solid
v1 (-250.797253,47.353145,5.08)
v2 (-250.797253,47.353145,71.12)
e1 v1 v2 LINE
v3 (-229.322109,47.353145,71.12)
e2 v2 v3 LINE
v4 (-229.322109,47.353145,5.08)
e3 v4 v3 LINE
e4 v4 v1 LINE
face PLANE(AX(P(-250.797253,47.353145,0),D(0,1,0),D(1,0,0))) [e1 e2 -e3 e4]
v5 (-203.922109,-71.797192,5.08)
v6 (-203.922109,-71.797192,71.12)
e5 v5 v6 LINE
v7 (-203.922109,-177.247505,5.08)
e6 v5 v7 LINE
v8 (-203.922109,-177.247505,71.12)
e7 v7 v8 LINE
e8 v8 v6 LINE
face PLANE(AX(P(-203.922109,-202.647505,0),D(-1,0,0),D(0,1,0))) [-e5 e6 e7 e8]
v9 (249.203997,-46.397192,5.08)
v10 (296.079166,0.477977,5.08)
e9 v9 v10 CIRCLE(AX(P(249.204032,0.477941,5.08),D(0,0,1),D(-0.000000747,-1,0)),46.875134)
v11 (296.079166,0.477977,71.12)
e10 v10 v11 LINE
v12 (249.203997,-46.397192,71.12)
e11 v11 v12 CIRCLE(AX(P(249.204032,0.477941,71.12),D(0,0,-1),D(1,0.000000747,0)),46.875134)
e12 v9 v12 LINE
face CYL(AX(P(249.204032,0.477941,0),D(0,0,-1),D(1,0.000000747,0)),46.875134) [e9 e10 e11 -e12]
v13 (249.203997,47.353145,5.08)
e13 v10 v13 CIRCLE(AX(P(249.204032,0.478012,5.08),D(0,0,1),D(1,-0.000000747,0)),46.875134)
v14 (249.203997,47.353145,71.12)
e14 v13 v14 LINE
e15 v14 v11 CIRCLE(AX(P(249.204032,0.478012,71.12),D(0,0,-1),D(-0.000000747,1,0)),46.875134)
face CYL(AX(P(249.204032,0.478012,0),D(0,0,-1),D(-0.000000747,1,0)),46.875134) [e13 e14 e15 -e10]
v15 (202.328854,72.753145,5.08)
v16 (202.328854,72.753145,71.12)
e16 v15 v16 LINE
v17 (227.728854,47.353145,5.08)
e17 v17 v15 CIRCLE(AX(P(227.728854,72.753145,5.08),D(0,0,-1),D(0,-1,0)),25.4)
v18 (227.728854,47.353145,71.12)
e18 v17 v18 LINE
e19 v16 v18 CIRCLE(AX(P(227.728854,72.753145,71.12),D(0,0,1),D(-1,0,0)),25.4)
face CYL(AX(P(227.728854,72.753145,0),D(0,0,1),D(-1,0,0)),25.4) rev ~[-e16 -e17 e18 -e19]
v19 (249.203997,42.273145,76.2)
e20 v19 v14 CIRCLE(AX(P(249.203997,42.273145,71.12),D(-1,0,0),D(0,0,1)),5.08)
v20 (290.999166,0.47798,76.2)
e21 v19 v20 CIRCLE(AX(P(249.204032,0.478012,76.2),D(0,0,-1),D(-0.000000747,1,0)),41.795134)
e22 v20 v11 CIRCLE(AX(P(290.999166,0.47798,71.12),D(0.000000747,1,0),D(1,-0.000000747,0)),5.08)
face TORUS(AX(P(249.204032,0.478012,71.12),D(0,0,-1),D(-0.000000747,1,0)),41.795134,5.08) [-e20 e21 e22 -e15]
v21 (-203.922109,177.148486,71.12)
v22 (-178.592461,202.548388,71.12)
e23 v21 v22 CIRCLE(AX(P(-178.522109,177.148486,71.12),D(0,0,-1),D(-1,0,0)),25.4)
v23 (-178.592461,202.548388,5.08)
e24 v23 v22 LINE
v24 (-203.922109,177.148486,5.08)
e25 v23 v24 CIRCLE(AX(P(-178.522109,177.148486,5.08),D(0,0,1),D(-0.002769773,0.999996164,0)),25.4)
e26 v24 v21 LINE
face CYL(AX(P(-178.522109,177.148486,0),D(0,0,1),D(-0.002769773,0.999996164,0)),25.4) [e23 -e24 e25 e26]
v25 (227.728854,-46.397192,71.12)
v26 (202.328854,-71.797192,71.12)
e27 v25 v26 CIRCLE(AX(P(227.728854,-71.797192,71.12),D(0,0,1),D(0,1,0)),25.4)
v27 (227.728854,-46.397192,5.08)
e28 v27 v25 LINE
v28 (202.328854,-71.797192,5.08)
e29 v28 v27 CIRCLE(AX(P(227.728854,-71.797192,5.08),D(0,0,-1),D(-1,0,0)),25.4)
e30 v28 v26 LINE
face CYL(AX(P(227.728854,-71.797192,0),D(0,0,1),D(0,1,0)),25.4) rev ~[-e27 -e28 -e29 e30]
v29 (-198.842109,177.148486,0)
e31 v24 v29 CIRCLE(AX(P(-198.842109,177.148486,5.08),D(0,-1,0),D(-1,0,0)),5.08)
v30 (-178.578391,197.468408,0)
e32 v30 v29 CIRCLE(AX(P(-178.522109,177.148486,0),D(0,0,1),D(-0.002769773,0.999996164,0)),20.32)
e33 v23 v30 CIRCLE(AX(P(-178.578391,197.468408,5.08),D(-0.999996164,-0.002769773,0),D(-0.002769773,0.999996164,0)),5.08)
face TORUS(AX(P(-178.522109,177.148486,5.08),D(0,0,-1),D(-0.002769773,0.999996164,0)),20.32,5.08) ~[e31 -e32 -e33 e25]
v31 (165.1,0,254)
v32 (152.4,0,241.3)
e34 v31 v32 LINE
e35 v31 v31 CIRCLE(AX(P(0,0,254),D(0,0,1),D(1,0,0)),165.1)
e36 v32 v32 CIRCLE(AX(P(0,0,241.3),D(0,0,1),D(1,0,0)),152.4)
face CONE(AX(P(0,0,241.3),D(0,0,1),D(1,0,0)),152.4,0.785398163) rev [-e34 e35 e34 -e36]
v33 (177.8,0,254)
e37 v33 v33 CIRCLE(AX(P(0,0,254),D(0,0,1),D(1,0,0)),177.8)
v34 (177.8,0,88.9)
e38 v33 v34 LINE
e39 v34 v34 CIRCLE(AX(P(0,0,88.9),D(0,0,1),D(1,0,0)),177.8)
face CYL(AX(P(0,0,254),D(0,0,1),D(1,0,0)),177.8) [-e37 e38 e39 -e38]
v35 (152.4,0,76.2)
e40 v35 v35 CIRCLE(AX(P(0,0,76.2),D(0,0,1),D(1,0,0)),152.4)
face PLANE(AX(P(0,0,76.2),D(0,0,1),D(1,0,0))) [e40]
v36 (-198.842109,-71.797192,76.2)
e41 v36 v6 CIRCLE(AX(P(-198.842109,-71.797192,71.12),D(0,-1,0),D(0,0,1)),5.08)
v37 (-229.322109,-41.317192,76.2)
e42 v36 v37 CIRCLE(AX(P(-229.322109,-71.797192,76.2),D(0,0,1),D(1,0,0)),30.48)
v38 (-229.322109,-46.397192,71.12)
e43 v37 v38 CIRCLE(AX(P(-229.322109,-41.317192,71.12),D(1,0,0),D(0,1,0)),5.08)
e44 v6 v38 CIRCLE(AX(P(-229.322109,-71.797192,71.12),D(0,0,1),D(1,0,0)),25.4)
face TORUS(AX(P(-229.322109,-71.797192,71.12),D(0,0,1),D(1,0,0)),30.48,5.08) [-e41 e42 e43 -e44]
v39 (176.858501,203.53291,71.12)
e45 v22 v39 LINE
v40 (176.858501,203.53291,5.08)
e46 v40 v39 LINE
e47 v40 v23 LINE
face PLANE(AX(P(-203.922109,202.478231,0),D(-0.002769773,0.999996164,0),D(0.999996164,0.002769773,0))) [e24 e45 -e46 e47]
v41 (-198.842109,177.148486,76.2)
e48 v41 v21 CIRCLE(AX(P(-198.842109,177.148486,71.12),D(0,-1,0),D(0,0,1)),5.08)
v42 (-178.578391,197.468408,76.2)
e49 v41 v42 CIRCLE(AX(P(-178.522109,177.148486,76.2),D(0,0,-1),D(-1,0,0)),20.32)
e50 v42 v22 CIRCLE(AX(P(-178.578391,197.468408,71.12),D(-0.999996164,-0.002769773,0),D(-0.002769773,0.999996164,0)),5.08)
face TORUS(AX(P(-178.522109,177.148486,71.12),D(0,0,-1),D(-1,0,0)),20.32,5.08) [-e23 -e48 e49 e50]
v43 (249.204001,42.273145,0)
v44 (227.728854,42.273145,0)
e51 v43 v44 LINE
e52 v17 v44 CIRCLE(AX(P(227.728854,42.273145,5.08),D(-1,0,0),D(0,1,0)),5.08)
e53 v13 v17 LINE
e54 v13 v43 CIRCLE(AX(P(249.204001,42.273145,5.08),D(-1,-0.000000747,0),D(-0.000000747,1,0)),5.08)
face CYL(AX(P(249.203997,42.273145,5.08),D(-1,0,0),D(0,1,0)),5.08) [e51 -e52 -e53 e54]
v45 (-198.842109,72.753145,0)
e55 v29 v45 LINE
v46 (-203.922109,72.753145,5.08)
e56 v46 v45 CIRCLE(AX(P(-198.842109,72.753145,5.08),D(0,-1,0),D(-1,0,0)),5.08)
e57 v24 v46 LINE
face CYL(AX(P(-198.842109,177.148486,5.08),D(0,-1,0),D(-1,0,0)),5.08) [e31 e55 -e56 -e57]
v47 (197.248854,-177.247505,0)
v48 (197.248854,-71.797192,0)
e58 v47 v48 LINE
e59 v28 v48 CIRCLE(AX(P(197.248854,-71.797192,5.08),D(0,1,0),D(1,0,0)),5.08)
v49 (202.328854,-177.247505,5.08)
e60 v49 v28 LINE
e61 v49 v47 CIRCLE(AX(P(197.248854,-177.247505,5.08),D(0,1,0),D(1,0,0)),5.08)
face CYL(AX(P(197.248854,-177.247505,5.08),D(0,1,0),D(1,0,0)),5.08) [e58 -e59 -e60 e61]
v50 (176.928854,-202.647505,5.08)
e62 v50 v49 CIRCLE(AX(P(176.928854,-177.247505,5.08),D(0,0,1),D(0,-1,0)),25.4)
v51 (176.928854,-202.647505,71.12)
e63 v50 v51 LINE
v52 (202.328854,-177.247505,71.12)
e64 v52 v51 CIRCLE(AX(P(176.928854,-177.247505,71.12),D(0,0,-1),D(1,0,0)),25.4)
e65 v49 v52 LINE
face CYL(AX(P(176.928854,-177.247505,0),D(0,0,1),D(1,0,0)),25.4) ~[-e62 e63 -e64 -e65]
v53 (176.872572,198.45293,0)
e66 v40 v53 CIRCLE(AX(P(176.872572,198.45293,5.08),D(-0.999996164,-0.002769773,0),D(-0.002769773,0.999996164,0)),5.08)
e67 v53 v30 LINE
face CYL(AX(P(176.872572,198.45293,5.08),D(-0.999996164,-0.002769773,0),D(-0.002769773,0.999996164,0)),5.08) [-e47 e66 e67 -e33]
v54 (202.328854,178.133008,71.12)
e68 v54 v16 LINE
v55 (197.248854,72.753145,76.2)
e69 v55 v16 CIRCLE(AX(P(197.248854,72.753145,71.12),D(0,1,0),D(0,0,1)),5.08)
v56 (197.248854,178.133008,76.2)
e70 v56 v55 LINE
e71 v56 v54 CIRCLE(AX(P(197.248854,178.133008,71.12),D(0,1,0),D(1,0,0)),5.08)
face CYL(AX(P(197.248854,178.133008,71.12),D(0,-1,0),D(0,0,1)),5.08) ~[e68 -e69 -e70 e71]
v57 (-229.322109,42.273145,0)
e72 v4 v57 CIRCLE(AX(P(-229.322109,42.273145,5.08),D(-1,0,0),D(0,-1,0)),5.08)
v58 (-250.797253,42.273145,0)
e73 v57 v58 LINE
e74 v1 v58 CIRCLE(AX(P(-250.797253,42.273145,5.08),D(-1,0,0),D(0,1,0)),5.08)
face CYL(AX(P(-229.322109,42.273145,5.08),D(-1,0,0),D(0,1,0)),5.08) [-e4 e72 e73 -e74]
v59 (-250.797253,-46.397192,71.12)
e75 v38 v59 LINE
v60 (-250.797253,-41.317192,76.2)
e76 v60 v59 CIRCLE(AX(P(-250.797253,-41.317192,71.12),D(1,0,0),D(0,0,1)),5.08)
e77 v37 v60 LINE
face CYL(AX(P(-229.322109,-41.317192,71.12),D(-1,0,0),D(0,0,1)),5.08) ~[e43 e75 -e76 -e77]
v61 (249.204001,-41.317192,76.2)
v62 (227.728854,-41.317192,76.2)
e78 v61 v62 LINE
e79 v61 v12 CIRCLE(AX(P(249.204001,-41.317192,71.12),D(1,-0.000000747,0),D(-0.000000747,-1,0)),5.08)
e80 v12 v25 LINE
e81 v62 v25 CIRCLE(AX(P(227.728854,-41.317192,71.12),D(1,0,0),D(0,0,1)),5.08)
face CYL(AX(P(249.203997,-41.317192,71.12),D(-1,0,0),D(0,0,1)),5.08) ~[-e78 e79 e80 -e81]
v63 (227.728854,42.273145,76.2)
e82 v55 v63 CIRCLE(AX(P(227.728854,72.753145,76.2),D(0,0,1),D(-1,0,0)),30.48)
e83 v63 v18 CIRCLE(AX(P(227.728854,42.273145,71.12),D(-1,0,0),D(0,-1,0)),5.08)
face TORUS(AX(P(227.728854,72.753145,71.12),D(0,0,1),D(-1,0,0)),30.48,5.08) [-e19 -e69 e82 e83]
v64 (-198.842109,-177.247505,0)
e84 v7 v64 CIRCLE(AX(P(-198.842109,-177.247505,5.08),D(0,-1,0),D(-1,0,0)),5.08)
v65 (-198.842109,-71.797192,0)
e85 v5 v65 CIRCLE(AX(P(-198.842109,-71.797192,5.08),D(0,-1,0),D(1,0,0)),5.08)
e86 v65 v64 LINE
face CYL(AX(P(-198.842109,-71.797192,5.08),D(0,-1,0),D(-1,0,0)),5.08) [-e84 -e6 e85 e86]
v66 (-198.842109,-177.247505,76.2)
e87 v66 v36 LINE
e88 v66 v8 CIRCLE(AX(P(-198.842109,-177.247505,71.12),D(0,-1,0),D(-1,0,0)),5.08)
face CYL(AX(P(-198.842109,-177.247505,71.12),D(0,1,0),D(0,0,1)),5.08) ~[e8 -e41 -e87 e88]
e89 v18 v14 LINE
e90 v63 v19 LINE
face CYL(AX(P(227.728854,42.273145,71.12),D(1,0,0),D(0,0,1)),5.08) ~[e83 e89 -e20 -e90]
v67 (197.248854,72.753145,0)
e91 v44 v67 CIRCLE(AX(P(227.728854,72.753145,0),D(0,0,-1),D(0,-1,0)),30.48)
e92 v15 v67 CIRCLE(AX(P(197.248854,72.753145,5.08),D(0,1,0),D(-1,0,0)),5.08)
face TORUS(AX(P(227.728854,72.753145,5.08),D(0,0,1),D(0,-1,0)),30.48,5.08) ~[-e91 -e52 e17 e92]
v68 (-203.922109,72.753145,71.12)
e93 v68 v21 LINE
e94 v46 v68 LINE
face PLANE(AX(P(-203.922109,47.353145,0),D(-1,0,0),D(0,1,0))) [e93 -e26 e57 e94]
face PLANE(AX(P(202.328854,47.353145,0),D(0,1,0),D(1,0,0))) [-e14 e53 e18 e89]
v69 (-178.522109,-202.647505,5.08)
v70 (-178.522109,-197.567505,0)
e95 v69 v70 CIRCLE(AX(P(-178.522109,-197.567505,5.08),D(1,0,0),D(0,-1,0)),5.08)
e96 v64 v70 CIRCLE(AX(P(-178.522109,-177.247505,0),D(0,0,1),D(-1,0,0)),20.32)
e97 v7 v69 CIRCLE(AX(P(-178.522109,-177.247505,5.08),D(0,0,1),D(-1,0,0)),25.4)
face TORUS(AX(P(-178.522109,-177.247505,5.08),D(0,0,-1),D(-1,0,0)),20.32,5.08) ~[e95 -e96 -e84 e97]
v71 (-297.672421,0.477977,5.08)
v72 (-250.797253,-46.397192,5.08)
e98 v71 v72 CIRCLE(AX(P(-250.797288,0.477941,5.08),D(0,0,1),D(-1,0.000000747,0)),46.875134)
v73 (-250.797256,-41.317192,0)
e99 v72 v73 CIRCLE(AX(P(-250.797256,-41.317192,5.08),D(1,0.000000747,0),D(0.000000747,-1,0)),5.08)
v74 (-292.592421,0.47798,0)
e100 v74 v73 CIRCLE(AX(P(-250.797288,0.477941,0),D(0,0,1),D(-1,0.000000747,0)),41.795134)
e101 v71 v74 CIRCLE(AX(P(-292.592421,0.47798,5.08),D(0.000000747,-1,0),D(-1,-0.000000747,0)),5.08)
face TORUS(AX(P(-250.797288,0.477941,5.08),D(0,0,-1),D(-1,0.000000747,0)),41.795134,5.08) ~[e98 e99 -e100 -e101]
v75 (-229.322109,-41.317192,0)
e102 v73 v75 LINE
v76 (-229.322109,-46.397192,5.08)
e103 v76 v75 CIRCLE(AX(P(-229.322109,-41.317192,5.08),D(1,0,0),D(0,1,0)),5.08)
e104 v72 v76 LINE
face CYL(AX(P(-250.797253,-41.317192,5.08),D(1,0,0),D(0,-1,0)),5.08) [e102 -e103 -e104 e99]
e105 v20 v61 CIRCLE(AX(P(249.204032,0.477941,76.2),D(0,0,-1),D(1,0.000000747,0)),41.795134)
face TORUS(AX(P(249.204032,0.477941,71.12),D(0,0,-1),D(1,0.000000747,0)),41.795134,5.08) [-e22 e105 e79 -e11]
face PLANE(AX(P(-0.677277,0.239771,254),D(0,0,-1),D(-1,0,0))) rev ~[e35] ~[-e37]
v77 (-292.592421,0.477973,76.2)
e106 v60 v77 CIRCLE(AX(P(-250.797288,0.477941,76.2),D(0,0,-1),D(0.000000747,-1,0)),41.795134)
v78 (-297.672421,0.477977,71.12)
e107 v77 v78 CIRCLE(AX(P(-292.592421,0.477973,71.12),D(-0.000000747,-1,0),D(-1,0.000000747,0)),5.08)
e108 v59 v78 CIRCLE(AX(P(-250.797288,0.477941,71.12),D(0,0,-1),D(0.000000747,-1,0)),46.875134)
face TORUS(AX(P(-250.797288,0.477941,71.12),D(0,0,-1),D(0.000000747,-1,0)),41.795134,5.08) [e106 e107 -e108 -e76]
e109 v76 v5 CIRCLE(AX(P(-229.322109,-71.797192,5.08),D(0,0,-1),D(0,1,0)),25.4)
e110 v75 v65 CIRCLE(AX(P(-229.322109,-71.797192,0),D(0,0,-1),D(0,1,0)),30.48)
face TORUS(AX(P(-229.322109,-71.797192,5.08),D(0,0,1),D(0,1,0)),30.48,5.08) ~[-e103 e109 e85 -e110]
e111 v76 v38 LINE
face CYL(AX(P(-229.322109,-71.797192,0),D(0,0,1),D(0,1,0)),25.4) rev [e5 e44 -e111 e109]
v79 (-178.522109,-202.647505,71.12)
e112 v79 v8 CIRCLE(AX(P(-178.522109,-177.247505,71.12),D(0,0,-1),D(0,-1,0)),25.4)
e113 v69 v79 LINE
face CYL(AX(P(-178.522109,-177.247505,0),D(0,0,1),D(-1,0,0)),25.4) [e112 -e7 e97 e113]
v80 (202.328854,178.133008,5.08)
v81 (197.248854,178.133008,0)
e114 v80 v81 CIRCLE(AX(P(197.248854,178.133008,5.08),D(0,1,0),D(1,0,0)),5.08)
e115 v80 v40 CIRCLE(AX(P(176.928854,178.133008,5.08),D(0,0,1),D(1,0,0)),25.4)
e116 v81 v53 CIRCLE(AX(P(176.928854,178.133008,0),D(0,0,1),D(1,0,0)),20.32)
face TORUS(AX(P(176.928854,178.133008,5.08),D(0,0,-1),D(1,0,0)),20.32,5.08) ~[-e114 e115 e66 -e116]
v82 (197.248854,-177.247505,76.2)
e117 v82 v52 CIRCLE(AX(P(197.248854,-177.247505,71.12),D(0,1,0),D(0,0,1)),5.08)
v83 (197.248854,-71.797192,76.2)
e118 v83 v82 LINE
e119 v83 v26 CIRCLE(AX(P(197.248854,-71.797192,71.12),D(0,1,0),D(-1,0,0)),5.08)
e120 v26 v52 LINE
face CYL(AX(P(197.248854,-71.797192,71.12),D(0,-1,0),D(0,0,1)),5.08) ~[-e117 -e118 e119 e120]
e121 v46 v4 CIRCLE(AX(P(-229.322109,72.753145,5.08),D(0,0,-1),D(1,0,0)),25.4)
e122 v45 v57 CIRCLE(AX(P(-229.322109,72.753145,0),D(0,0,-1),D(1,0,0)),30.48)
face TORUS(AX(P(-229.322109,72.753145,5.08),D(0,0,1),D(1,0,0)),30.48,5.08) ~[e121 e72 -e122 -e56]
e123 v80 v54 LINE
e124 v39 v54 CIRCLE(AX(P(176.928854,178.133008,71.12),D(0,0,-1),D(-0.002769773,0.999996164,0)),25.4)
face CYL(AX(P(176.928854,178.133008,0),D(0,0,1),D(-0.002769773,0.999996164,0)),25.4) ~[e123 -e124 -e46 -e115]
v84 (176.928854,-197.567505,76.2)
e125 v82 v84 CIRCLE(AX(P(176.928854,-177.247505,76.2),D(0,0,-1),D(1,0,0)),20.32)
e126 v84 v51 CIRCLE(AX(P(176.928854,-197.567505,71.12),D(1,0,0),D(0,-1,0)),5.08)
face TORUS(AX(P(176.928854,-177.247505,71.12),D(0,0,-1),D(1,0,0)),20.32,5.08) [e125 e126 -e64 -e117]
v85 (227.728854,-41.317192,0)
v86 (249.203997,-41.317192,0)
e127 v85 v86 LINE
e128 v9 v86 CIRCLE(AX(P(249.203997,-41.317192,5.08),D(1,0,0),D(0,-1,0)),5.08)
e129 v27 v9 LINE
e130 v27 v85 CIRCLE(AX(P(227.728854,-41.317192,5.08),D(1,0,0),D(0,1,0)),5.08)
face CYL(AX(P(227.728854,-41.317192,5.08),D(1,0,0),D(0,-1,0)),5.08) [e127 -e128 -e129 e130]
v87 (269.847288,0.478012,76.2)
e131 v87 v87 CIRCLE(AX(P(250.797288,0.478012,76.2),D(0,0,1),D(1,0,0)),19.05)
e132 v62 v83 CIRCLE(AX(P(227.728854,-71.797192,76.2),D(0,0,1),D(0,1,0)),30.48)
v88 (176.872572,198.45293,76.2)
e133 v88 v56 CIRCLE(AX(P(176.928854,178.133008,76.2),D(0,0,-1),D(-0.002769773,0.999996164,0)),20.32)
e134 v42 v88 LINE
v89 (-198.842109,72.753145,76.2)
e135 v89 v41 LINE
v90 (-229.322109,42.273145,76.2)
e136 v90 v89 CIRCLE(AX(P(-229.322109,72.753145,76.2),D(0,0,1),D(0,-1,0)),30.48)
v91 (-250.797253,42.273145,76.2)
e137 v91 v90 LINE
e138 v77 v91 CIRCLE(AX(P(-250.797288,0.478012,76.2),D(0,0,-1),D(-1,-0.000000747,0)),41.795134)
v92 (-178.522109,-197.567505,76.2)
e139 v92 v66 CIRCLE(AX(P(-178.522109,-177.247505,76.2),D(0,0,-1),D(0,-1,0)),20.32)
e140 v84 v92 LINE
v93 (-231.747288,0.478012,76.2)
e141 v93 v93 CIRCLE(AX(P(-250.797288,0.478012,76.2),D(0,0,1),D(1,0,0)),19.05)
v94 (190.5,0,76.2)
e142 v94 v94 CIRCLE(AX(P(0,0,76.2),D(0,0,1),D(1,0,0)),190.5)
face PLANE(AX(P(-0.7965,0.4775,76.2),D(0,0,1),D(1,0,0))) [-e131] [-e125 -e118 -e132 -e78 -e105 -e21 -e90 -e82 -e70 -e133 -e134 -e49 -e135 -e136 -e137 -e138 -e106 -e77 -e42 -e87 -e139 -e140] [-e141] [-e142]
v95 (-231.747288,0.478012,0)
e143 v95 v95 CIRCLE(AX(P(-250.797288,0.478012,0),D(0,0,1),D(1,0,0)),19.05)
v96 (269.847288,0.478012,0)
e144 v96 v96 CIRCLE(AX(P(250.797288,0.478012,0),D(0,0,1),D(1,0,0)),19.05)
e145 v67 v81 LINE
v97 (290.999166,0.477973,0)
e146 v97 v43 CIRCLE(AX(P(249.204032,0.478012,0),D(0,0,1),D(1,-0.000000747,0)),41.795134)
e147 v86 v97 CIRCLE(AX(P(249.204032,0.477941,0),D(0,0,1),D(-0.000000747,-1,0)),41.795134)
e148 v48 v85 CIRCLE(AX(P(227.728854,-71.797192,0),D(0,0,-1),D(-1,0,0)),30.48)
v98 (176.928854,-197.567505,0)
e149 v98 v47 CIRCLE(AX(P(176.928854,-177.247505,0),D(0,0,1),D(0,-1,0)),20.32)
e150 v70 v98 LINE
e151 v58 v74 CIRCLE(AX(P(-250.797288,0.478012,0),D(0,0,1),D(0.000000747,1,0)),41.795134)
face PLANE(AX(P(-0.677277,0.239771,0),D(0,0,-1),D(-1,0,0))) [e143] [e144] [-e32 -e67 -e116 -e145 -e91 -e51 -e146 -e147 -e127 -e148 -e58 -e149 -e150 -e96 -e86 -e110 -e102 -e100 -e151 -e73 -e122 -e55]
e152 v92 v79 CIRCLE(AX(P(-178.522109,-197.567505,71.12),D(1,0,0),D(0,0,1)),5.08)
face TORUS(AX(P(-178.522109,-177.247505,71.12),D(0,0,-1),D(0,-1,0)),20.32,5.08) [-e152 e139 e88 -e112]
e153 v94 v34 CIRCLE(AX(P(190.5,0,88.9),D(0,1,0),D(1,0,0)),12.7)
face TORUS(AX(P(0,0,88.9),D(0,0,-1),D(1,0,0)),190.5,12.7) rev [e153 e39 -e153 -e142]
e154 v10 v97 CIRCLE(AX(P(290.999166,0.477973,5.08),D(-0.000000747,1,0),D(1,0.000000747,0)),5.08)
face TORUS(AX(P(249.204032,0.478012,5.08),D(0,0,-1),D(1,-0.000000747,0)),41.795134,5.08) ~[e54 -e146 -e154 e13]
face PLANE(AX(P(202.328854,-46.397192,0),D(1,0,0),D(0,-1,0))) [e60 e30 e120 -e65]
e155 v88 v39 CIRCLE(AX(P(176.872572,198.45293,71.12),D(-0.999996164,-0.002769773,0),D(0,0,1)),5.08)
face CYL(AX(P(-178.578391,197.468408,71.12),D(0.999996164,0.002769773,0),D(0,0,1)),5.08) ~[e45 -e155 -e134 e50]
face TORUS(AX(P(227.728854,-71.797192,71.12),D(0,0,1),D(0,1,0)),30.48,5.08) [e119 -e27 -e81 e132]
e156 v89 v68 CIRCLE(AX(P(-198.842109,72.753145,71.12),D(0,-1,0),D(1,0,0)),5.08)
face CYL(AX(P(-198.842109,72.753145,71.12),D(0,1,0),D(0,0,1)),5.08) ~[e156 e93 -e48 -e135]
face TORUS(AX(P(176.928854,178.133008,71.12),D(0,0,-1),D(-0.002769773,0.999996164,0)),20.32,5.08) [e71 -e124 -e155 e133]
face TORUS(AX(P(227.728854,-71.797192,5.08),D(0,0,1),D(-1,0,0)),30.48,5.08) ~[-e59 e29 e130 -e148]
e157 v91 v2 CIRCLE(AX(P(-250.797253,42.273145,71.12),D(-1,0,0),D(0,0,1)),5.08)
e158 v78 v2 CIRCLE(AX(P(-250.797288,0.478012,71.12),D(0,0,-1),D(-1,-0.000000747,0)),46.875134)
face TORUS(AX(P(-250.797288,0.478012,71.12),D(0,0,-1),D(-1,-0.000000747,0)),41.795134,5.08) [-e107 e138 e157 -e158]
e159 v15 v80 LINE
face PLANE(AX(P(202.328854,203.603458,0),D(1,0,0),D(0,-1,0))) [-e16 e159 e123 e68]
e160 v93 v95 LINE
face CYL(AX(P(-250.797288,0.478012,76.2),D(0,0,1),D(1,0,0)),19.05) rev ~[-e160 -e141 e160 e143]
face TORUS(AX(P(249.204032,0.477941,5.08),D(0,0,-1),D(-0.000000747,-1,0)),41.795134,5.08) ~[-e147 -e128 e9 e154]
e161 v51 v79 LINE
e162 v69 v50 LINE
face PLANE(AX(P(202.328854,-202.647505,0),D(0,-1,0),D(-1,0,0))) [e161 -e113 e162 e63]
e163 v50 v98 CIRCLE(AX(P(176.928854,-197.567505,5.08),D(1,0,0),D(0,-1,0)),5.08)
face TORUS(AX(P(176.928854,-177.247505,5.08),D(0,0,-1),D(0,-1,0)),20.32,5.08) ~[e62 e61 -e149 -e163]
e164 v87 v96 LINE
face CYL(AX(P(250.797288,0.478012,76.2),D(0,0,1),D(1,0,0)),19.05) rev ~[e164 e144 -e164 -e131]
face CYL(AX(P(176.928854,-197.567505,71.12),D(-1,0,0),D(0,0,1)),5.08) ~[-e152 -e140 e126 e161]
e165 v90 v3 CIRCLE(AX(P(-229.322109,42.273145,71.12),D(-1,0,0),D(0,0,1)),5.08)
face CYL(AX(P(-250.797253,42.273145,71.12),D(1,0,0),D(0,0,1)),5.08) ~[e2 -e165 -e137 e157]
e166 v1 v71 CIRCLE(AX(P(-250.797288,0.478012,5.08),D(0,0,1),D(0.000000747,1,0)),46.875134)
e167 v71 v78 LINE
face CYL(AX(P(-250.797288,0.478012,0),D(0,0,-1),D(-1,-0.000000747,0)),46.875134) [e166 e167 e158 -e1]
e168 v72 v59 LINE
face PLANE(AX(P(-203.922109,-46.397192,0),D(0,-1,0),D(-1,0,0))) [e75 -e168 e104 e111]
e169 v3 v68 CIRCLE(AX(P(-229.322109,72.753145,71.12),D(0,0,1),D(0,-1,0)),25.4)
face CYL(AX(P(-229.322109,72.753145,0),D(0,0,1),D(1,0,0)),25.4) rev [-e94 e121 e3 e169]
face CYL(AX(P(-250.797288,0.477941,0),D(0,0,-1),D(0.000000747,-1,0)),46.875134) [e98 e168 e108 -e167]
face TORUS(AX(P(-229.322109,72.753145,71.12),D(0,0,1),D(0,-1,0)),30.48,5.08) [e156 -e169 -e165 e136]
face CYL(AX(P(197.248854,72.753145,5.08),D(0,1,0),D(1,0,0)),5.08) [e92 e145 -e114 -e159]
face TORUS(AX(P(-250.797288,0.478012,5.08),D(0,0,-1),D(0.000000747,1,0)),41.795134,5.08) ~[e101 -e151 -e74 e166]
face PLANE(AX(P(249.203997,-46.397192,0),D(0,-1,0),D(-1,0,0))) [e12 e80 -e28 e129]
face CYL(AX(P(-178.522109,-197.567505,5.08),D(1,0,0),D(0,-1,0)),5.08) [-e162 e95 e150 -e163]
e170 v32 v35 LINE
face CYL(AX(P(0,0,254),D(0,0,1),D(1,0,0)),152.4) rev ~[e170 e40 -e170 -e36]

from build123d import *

# Parameters (mm, degrees)
BOSS_EXTRUDE1_DEPTH = 254
SKETCH2_OUTSIDE_W   = 748.341
SKETCH2_OUTSIDE_H   = 560.841
SKETCH2_OUTSIDE_R   = 177.8
CUT_EXTRUDE1_DEPTH  = 177.8
SKETCH3_R           = 152.4
CUT_EXTRUDE2_DEPTH  = 177.8
SKETCH4_R           = 19.05
CUT_EXTRUDE3_DEPTH  = 77.2
FILLET1_R           = 25.4
FILLET2_R           = 12.7
CHAMFER1_SIZE       = 12.7
FILLET3_R           = 5.08


with BuildPart() as part:
    # Sketch1 → Boss-Extrude1 (new body)
    with BuildSketch(Plane.XY):
        with BuildLine():
            Line((-203.92210878, 202.478230518), (202.328853722, 203.603457768))
            Line((202.328853722, 203.603457768), (202.328853722, 47.353145268))
            Line((202.328853722, 47.353145268), (249.203997472, 47.353145268))
            ThreePointArc((249.203997472, 47.353145268), (282.349757422, 33.623736467), (296.079166223, 0.477976517))
            ThreePointArc((296.079166223, 0.477976517), (282.349757422, -32.667783432), (249.203997472, -46.397192233))
            Line((249.203997472, -46.397192233), (202.328853722, -46.397192233))
            Line((202.328853722, -46.397192233), (202.328853722, -202.647504734))
            Line((202.328853722, -202.647504734), (-203.92210878, -202.647504734))
            Line((-203.92210878, -202.647504734), (-203.92210878, -46.397192233))
            Line((-203.92210878, -46.397192233), (-250.79725253, -46.397192233))
            ThreePointArc((-250.79725253, -46.397192233), (-283.94301248, -32.667783432), (-297.67242128, 0.477976517))
            ThreePointArc((-297.67242128, 0.477976517), (-283.94301248, 33.623736467), (-250.79725253, 47.353145268))
            Line((-250.79725253, 47.353145268), (-203.92210878, 47.353145268))
            Line((-203.92210878, 47.353145268), (-203.92210878, 202.478230518))
        make_face()
    extrude(amount=BOSS_EXTRUDE1_DEPTH)

    # Sketch2 outside → Cut-Extrude1 (cut)
    with BuildSketch(Plane.XY.offset(254)):
        with Locations((-0.7965, 0.4775)):
            Rectangle(SKETCH2_OUTSIDE_W, SKETCH2_OUTSIDE_H)
        Circle(SKETCH2_OUTSIDE_R, mode=Mode.SUBTRACT)
    extrude(amount=-CUT_EXTRUDE1_DEPTH, mode=Mode.SUBTRACT)

    # Sketch3 → Cut-Extrude2 (cut)
    with BuildSketch(Plane.XY.offset(254)):
        Circle(SKETCH3_R)
    extrude(amount=-CUT_EXTRUDE2_DEPTH, mode=Mode.SUBTRACT)

    # Sketch4 → Cut-Extrude3 (cut, through all)
    with BuildSketch(Plane.XY.offset(76.2)):
        with Locations((-250.797287549, 0.478011537)):
            Circle(SKETCH4_R)
        with Locations((250.797287549, 0.478011537)):
            Circle(SKETCH4_R)
    extrude(amount=-CUT_EXTRUDE3_DEPTH, mode=Mode.SUBTRACT)

    # Fillet1
    fillet1_edges = [part.edges().sort_by_distance(p)[0] for p in [
        (-203.92210878, 202.478230518, 38.1),
        (202.328853722, 203.603457768, 38.1),
        (202.328853722, 47.353145268, 38.1),
        (202.328853722, -46.397192233, 38.1),
        (202.328853722, -202.647504734, 38.1),
        (-203.92210878, -202.647504734, 38.1),
        (-203.92210878, -46.397192233, 38.1),
        (-203.92210878, 47.353145268, 38.1),
    ]]
    fillet(fillet1_edges, radius=FILLET1_R)

    # Fillet2
    fillet2_edges = [part.edges().sort_by_distance(p)[0] for p in [
        (-177.8, 0, 76.2),
    ]]
    fillet(fillet2_edges, radius=FILLET2_R)

    # Chamfer1
    chamfer1_edges = [part.edges().sort_by_distance(p)[0] for p in [
        (-152.4, 0, 254),
    ]]
    chamfer(chamfer1_edges, length=CHAMFER1_SIZE)

    # Fillet3
    fillet3_edges = [part.edges().sort_by_distance(p)[0] for p in [
        (-240.059680655, 47.353145268, 76.2),
        (202.328853722, -124.522348483, 76.2),
        (238.466425597, -46.397192233, 76.2),
        (202.328853722, 125.443076551, 76.2),
        (-0.866979762, 203.040649283, 76.2),
        (-196.507477093, 195.084107315, 76.2),
        (194.864475446, 196.118376148, 76.2),
        (194.889365964, -195.208016976, 76.2),
        (-196.482621022, -195.208016976, 76.2),
        (-211.361596538, -53.836679991, 0),
        (-211.361596538, -53.836679991, 76.2),
        (209.76834148, -53.836679991, 0),
        (209.76834148, -53.836679991, 76.2),
        (209.76834148, 54.792633025, 0),
        (209.76834148, 54.792633025, 76.2),
        (-211.361596538, 54.792633025, 0),
        (-211.361596538, 54.792633025, 76.2),
        (238.466425597, 47.353145268, 0),
        (282.349757422, 33.623736467, 0),
        (282.349757422, -32.667783432, 0),
        (-240.059680655, -46.397192233, 0),
        (-283.94301248, -32.667783432, 0),
        (-283.94301248, 33.623736467, 0),
        (-283.94301248, 33.623736467, 76.2),
        (-283.94301248, -32.667783432, 76.2),
        (-240.059680655, -46.397192233, 76.2),
        (282.349757422, -32.667783432, 76.2),
        (282.349757422, 33.623736467, 76.2),
        (238.466425597, 47.353145268, 76.2),
        (-0.796627529, -202.647504734, 76.2),
        (-0.796627529, -202.647504734, 0),
        (-203.92210878, 124.950815429, 0),
        (-0.866979762, 203.040649283, 0),
        (202.328853722, 125.443076551, 0),
        (238.466425597, -46.397192233, 0),
        (202.328853722, -124.522348483, 0),
        (-203.92210878, -124.522348483, 0),
        (-240.059680655, 47.353145268, 0),
        (-196.507477093, 195.084107315, 0),
        (194.864475446, 196.118376148, 0),
        (194.889365964, -195.208016976, 0),
        (-196.482621022, -195.208016976, 0),
        (-203.92210878, -124.522348483, 76.2),
        (-203.92210878, 124.950815429, 76.2),
    ]]
    fillet(fillet3_edges, radius=FILLET3_R)


solid = part.part
